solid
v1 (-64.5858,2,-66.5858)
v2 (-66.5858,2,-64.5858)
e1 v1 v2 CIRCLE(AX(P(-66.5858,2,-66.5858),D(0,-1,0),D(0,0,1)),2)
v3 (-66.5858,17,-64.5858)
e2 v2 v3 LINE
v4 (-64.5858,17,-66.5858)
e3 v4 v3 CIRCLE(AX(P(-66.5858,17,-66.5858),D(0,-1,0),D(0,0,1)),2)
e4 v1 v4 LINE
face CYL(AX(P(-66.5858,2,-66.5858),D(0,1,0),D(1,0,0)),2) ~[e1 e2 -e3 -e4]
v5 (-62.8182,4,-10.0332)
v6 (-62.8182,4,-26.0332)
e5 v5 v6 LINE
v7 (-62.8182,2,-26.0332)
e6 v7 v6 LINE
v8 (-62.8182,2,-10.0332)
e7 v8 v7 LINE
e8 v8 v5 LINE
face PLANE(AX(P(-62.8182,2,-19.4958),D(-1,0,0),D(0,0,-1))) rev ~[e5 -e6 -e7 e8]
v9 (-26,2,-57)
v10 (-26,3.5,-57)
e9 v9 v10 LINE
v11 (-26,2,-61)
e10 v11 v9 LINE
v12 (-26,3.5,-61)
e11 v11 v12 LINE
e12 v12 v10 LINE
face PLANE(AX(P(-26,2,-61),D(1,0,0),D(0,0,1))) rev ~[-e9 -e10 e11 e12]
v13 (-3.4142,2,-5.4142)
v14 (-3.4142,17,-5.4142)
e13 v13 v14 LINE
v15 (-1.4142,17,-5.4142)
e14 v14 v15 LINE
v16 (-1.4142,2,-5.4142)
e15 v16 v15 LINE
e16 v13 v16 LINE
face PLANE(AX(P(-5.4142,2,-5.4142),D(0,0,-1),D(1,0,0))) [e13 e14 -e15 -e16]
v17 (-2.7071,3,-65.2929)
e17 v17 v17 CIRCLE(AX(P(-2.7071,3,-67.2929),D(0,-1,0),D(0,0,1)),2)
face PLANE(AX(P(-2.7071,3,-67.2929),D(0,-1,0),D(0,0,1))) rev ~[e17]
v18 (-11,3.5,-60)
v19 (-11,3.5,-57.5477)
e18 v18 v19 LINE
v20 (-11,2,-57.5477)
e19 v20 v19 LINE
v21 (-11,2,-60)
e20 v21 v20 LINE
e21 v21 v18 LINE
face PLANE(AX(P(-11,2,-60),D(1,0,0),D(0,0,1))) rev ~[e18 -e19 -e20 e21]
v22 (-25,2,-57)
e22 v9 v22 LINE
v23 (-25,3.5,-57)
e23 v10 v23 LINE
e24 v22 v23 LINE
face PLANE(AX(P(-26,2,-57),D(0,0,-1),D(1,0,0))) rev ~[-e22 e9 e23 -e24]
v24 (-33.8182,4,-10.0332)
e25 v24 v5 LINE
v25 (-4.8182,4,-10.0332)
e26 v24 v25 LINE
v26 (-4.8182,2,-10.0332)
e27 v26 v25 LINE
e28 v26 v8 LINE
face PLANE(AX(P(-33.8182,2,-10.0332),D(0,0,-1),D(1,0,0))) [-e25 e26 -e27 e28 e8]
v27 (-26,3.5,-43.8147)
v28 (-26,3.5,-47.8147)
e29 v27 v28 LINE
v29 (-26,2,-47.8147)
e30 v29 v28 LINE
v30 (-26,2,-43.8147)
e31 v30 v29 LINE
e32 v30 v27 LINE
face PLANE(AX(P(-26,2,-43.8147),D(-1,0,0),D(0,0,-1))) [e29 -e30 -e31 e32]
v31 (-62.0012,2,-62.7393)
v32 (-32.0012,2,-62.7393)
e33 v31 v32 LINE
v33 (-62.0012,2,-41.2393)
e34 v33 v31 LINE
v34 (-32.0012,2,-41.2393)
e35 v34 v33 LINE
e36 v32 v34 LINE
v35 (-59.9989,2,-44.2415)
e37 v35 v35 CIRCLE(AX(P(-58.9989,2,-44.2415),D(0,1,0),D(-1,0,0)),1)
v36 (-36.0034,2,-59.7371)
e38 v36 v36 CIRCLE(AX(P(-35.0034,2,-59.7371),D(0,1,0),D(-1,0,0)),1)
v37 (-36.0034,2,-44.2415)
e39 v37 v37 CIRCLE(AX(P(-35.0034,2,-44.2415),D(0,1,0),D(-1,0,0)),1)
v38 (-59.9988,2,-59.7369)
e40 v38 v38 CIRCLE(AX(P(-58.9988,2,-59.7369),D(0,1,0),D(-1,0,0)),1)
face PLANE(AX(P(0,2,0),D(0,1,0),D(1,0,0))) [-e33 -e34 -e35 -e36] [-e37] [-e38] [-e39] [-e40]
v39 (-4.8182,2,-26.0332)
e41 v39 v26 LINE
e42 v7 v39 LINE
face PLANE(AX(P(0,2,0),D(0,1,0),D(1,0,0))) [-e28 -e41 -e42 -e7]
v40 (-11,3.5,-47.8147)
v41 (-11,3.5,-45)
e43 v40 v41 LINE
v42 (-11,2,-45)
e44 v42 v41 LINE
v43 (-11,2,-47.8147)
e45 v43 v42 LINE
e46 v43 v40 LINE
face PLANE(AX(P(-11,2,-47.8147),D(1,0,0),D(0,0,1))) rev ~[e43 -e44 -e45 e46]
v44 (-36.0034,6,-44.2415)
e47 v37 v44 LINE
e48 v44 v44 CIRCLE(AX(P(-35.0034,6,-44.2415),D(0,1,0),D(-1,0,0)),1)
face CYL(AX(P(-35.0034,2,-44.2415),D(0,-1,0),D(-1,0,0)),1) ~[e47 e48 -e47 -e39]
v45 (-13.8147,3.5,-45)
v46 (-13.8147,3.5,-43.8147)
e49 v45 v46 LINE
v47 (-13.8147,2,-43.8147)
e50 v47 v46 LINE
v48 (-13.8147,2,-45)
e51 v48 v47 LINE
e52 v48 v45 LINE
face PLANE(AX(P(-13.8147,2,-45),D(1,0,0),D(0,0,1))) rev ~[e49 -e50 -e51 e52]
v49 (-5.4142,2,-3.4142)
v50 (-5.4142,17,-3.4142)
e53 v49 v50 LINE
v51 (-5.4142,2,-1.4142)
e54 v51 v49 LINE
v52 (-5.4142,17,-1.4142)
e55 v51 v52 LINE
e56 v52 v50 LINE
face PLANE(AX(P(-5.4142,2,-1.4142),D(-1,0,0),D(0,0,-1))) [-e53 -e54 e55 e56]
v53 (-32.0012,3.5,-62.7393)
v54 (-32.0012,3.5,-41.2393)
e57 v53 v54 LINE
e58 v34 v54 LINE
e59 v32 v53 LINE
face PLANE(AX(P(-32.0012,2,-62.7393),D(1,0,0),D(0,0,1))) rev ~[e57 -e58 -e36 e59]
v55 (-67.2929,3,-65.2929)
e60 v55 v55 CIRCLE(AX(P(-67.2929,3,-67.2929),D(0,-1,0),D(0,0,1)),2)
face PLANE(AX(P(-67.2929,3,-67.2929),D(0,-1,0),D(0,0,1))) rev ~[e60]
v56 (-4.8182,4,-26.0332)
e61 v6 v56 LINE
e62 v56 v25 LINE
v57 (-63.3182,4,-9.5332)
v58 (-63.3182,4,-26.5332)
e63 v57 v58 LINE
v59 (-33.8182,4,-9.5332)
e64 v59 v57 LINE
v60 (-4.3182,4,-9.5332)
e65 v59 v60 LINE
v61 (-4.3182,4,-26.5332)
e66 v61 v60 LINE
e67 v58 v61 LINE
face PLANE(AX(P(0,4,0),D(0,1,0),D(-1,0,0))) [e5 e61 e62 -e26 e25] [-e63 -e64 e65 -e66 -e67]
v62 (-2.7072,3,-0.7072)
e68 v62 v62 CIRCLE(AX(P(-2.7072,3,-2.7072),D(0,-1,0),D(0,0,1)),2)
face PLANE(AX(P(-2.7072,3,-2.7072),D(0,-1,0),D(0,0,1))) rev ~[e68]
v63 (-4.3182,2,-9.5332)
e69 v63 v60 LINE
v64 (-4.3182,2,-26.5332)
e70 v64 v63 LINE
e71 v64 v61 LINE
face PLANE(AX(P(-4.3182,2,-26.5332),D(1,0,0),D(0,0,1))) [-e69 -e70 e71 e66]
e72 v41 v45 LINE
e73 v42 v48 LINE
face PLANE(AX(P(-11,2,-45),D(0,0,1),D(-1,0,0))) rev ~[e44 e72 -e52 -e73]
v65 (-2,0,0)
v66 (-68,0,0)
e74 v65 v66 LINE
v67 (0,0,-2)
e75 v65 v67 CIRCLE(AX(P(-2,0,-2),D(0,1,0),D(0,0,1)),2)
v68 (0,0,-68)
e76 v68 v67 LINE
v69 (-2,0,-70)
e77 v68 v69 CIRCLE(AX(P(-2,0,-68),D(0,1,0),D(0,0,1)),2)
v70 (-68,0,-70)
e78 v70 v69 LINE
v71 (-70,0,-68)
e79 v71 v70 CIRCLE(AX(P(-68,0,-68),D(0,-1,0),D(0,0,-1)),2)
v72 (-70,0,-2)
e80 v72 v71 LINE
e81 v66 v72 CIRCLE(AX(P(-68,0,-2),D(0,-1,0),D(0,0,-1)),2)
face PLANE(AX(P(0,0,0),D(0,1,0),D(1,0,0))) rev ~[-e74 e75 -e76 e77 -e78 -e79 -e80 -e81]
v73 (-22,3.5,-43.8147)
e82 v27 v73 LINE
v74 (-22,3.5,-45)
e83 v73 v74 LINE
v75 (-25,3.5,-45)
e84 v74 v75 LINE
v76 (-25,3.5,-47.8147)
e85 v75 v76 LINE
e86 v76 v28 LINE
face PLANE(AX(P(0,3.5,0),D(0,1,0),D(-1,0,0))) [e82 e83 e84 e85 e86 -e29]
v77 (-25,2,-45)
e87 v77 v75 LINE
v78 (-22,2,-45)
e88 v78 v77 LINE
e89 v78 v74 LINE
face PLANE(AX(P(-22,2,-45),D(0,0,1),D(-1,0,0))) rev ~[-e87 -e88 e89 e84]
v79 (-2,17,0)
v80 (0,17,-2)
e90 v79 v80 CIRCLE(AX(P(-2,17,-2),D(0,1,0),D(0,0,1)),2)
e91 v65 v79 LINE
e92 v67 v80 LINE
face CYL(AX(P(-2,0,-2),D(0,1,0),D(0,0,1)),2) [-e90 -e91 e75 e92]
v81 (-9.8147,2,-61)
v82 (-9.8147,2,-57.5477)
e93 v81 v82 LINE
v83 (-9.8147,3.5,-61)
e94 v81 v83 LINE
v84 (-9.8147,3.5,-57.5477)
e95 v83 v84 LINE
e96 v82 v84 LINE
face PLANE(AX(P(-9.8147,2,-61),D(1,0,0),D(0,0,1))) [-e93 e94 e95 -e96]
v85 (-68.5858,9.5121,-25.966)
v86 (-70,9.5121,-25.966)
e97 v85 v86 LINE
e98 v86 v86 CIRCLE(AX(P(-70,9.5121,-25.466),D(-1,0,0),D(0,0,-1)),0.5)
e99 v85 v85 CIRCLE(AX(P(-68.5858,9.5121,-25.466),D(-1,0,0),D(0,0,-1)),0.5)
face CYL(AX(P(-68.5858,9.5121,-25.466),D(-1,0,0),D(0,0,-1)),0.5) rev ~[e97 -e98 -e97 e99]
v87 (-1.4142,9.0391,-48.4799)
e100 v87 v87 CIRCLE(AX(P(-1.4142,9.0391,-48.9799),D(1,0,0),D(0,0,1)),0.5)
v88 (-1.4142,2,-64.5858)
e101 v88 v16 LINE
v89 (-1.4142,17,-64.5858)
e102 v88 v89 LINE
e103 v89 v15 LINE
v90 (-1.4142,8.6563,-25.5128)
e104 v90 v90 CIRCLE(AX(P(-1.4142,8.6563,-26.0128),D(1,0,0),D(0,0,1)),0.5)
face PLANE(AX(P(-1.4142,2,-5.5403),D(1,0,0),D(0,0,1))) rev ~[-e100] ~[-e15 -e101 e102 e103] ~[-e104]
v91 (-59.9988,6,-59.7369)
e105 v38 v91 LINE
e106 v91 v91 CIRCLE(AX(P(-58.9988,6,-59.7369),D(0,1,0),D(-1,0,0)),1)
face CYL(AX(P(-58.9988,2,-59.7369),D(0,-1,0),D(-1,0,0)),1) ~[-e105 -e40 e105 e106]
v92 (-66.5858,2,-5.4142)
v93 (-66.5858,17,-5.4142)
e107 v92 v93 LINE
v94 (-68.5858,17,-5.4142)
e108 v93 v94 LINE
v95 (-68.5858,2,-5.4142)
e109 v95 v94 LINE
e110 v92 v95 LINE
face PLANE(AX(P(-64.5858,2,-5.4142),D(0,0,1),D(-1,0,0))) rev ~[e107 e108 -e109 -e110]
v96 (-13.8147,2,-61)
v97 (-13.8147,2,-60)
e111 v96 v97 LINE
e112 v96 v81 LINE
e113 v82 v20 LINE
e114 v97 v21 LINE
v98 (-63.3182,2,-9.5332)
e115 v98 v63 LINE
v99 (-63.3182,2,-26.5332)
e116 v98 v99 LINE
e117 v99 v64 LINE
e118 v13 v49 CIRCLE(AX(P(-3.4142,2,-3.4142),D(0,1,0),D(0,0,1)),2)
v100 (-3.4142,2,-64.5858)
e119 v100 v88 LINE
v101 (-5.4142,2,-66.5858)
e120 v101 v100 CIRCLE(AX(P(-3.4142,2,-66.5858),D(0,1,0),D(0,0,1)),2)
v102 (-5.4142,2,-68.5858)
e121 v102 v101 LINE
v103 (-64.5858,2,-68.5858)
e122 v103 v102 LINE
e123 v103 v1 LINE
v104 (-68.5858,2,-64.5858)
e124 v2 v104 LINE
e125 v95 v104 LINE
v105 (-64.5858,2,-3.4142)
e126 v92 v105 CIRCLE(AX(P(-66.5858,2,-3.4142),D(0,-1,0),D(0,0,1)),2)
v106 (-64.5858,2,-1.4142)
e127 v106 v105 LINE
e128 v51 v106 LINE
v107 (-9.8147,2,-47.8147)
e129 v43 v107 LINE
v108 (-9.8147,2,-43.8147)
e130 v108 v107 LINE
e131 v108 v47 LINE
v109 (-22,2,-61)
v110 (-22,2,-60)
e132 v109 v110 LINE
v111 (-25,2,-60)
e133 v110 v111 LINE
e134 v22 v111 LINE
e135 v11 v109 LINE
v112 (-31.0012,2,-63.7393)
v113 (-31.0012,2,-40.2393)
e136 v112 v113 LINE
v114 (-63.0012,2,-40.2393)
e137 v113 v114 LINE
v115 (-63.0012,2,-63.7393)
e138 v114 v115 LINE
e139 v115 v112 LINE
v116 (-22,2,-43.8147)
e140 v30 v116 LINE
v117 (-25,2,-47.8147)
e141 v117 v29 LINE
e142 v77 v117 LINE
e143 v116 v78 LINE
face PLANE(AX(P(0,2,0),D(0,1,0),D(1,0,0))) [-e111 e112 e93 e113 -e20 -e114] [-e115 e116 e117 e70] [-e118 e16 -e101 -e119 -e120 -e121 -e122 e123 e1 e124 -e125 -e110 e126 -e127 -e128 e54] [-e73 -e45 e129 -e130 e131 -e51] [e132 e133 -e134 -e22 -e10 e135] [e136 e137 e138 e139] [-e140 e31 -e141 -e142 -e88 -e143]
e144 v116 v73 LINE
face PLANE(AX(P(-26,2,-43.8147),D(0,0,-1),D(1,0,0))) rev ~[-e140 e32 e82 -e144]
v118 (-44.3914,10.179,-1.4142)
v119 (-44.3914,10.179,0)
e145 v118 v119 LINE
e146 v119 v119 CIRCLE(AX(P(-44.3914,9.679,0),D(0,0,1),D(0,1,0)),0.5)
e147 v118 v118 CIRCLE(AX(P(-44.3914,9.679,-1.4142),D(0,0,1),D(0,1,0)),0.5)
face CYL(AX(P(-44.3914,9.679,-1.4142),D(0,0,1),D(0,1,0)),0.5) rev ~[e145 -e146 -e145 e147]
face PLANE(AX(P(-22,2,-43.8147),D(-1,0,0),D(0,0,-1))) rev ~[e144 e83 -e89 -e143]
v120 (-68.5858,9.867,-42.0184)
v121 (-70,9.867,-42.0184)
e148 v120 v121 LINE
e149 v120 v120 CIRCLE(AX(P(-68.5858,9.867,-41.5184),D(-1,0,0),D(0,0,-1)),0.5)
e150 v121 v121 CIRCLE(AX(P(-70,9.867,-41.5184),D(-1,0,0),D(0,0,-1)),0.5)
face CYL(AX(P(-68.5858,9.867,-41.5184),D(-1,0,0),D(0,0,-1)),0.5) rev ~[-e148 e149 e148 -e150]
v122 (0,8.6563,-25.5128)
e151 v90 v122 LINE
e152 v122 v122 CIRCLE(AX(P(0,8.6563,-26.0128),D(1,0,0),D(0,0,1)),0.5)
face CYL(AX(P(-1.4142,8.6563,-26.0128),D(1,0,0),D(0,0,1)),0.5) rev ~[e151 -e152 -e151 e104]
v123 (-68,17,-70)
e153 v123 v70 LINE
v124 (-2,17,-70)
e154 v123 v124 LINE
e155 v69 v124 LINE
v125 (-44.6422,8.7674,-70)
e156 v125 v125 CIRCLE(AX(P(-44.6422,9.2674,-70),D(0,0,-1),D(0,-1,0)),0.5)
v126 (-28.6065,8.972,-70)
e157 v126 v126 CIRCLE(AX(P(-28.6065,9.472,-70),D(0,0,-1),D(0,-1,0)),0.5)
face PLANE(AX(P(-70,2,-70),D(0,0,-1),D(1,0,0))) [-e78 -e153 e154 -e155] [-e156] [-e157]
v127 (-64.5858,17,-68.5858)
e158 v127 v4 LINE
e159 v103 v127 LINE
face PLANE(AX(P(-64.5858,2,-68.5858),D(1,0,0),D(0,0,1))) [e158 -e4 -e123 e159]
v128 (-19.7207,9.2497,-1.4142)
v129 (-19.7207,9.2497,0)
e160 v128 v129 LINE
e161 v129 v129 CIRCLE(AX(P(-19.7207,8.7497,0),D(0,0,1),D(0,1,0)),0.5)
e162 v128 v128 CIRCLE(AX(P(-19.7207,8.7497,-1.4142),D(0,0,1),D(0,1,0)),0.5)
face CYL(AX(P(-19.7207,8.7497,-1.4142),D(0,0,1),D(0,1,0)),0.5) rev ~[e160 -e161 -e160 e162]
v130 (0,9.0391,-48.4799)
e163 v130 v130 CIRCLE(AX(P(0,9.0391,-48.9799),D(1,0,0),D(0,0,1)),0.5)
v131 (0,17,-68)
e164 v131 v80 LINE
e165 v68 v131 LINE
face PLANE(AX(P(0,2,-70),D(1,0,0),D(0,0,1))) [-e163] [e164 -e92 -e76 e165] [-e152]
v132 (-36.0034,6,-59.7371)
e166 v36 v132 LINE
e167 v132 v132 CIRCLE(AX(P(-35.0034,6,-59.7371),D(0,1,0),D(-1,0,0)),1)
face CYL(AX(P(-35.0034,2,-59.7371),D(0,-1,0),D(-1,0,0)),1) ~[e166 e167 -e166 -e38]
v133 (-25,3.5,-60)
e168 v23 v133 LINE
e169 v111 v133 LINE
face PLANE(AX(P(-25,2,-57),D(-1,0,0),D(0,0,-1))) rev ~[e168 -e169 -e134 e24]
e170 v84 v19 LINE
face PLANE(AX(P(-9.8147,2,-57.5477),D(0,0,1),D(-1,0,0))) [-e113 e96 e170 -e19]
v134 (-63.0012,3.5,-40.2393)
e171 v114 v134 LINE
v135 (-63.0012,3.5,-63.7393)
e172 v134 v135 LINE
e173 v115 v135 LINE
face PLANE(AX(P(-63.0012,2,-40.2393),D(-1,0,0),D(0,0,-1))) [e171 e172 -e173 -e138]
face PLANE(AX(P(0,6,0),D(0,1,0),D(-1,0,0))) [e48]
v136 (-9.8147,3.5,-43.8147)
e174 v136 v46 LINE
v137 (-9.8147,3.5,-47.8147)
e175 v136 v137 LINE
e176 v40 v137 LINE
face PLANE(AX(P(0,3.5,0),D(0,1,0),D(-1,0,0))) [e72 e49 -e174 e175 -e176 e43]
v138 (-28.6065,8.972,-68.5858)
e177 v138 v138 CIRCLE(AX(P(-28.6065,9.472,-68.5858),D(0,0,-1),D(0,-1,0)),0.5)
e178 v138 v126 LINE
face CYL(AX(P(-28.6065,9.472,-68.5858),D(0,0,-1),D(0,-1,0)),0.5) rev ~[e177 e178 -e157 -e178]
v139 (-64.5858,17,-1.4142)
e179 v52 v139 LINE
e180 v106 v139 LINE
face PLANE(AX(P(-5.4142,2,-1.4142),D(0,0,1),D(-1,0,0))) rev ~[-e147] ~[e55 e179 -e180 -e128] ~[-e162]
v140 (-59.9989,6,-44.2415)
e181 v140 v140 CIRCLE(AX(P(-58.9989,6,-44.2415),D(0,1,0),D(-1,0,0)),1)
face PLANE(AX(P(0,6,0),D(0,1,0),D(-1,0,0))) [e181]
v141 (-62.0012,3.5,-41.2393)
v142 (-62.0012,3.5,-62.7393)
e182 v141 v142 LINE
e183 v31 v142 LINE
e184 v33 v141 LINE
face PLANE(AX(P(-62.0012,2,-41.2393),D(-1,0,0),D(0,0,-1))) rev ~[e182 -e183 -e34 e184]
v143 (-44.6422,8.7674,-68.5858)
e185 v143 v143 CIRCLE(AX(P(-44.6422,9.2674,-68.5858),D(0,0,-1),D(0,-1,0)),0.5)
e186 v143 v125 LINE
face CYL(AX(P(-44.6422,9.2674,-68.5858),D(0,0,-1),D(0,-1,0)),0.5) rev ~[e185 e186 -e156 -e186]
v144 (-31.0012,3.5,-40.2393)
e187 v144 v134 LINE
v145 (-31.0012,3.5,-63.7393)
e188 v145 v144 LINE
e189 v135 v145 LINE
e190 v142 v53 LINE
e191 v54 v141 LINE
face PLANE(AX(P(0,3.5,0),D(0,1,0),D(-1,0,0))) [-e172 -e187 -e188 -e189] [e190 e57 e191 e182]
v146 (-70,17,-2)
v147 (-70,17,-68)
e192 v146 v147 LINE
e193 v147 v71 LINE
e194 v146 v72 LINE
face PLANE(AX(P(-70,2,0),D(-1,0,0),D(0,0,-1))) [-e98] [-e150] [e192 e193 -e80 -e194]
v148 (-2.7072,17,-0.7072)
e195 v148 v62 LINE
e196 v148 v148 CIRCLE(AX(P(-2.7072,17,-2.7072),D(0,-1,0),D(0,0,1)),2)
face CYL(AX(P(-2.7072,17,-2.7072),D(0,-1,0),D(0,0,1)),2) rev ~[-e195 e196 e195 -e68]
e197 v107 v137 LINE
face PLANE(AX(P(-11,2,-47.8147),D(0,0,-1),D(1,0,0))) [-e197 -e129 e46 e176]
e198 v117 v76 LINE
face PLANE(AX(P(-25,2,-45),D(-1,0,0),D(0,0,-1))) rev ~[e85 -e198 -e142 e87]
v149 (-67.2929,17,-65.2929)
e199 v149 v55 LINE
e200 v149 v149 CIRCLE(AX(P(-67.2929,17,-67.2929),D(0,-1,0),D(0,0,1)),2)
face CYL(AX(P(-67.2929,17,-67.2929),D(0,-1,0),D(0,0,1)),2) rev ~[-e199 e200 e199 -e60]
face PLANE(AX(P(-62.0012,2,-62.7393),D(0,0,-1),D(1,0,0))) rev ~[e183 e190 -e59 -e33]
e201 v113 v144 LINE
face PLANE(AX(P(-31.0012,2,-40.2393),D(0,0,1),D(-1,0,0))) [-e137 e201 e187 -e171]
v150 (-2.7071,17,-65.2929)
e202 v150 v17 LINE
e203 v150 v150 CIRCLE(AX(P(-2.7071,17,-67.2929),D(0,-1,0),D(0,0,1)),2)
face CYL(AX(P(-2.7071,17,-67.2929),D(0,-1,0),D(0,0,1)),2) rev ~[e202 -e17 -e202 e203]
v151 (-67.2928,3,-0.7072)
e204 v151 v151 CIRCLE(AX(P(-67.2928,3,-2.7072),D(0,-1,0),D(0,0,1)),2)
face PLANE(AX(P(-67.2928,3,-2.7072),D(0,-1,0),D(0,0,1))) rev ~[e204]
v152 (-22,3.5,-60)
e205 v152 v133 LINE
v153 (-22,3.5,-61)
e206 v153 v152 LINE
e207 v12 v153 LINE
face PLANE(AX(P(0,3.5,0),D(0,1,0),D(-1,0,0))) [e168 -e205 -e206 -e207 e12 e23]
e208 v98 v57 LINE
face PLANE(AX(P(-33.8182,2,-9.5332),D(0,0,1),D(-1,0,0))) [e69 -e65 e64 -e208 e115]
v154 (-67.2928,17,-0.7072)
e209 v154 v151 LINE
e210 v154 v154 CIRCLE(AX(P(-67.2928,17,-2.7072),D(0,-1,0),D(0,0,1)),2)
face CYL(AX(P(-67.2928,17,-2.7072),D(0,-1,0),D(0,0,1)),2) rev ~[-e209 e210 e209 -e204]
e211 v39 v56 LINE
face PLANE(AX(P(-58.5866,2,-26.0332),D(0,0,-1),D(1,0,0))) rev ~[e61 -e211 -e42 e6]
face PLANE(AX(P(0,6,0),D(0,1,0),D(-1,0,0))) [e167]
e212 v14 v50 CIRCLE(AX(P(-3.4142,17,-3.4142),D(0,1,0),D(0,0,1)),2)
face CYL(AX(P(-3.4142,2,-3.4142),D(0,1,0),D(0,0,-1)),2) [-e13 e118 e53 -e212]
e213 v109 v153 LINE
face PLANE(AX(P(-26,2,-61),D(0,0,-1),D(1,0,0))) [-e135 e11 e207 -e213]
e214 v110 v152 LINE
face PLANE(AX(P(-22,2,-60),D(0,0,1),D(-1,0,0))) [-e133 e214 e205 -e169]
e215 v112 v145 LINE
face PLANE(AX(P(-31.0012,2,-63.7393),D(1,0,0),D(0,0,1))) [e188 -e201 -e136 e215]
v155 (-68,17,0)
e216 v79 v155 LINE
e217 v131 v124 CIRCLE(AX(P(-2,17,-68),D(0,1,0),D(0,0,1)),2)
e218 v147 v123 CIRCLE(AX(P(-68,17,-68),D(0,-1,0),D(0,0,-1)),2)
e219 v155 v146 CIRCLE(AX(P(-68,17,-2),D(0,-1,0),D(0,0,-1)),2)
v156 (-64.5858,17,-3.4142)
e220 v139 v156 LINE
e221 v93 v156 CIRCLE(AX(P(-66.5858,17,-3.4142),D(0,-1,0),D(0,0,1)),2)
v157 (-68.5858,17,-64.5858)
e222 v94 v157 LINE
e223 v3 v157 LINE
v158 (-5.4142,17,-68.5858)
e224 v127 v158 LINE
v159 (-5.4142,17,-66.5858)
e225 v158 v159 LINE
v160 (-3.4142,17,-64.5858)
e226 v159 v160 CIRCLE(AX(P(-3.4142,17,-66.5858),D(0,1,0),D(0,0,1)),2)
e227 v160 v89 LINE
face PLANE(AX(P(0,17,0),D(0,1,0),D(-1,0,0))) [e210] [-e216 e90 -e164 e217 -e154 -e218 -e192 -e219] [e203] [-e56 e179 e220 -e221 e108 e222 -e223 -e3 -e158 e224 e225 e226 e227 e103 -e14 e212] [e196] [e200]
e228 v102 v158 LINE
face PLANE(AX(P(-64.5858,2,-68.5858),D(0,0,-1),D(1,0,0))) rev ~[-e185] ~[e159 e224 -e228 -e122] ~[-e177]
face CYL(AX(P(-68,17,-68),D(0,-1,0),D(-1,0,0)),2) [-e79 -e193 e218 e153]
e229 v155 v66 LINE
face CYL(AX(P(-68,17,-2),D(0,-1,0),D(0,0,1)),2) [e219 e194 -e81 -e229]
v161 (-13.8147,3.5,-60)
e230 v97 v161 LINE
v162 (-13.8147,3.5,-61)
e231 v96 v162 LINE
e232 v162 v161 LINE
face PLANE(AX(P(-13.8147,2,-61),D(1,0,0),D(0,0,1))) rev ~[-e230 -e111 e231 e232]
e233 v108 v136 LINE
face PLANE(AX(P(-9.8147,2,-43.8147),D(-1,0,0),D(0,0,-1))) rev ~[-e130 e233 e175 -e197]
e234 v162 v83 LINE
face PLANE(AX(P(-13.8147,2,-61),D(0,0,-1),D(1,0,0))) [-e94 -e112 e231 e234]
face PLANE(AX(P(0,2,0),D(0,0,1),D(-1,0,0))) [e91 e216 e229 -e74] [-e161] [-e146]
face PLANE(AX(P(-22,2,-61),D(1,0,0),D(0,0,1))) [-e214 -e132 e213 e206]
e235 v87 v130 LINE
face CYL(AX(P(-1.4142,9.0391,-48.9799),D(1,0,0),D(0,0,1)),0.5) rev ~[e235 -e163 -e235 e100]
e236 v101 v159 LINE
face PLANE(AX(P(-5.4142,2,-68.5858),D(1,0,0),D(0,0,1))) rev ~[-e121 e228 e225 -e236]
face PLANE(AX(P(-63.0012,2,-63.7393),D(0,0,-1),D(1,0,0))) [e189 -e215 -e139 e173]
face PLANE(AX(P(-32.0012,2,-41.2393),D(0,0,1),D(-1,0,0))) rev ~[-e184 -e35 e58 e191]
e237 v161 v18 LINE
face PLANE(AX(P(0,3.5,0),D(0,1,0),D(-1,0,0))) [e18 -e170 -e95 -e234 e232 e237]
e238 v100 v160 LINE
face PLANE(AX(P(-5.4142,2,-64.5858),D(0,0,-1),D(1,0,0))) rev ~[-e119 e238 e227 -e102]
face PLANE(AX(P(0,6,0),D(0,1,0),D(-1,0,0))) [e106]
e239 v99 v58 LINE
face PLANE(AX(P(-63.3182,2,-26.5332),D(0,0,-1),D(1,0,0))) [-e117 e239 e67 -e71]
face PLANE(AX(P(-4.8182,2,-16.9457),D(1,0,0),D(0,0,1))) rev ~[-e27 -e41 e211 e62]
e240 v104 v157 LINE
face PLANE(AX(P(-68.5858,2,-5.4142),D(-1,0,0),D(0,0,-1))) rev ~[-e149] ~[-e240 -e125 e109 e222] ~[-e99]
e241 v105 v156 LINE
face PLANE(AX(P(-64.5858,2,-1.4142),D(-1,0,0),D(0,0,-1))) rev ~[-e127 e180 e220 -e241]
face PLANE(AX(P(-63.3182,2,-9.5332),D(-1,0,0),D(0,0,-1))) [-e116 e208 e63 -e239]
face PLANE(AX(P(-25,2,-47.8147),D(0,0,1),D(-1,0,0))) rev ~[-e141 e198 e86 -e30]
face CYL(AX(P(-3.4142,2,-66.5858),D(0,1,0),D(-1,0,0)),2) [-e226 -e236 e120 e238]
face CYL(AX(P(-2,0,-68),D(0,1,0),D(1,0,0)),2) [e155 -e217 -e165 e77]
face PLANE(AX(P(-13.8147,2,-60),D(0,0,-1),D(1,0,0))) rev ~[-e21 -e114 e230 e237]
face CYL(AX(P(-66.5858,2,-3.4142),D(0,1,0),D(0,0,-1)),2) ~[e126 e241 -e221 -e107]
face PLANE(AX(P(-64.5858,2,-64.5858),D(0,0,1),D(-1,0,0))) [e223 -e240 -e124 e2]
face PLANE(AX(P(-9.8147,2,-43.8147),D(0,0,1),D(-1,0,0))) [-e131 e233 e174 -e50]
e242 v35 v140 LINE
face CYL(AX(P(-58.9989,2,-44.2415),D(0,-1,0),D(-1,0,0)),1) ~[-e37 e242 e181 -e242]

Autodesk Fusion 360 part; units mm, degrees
sketch "Sketch1" plane through (0, 0, 0) normal (0, 1, 0) x (1, 0, 0)
  line L0 (0, 0) -> (-70, 0)
  line L1 (-70, 0) -> (-70, 70)
  line L2 (-70, 70) -> (0, 70)
  line L3 (0, 70) -> (0, 0)
  dimension "d1" = 70
  dimension "d2" = 70
extrude "Extrude1" add sketch "Sketch1" along normal blind 2
sketch "Sketch2" plane through (0, 2, 0) normal (0, 1, 0) x (-1, 0, 0)
  line L0 (0, -70) -> (70, -70)
  line L1 (70, -70) -> (70, 0)
  line L2 (70, 0) -> (0, 0)
  line L3 (0, 0) -> (0, -70)
  line L4 (62.0012, -62.7393) -> (32.0012, -62.7393)
  line L5 (32.0012, -62.7393) -> (32.0012, -41.2393)
  line L6 (32.0012, -41.2393) -> (62.0012, -41.2393)
  line L7 (62.0012, -41.2393) -> (62.0012, -62.7393)
  line L8 (13.8147, -60) -> (11, -60)
  line L9 (25, -45) -> (25, -47.8147)
  line L10 (62.0012, -62.7393) -> (63.4154, -62.7393) construction
  line L11 (32.0012, -41.2393) -> (33.4154, -41.2393) construction
  line L12 (63.0012, -63.7393) -> (31.0012, -63.7393)
  line L13 (31.0012, -63.7393) -> (31.0012, -40.2393)
  line L14 (31.0012, -40.2393) -> (63.0012, -40.2393)
  line L15 (63.0012, -40.2393) -> (63.0012, -63.7393)
  line L16 (13.8147, -61) -> (9.8147, -61)
  line L17 (26, -43.8147) -> (26, -47.8147)
  line L18 (62.0012, -62.7393) -> (66.2472, -62.7393) construction
  circle A0 centre (58.9988, -59.7369) radius 1
  line L19 (26, -61) -> (22, -61)
  line L20 (9.8147, -61) -> (13.8147, -61)
  line L21 (13.8147, -61) -> (13.8147, -60)
  line L22 (9.8147, -61) -> (9.8147, -57.5477)
  line L23 (9.8147, -57.5477) -> (11, -57.5477)
  line L24 (9.8147, -43.8147) -> (9.8147, -47.8147)
  line L25 (11, -47.8147) -> (9.8147, -47.8147)
  line L26 (9.8147, -43.8147) -> (13.8147, -43.8147)
  line L27 (13.8147, -45) -> (13.8147, -43.8147)
  line L28 (26, -43.8147) -> (22, -43.8147)
  line L29 (22, -43.8147) -> (22, -45)
  line L30 (26, -43.8147) -> (26, -47.8147)
  line L31 (25, -47.8147) -> (26.1763, -47.8147)
  line L32 (11, -45) -> (13.8147, -45)
  line L33 (22, -45) -> (25, -45)
  line L34 (9.8147, -43.8147) -> (13.8147, -43.8147)
  line L35 (22, -43.8147) -> (26, -43.8147)
  line L36 (26, -61) -> (26, -57)
  line L37 (26, -57) -> (25, -57)
  line L38 (25, -57) -> (25, -60)
  line L39 (22, -61) -> (22, -60)
  line L40 (22, -60) -> (25, -60)
  line L41 (9.8147, -61) -> (9.8147, -57.5477)
  line L42 (9.8147, -47.8147) -> (9.8147, -43.8147)
  line L43 (11, -60) -> (11, -57.5477)
  line L44 (11, -47.8147) -> (11, -45)
  line L45 (33.8182, -10.0332) -> (4.8182, -10.0332)
  line L46 (58.5866, -26.0332) -> (4.8182, -26.0332)
  line L47 (33.8182, -9.5332) -> (4.3182, -9.5332)
  line L48 (4.8182, -10.0332) -> (62.8182, -10.0332)
  line L49 (63.3182, -26.5332) -> (4.3182, -26.5332)
  line L50 (4.8182, -16.9457) -> (4.8182, -10.0332)
  line L51 (4.3182, -26.5332) -> (4.3182, -9.5332)
  line L52 (58.5866, -26.0332) -> (62.8182, -26.0332)
  line L53 (63.3182, -9.5332) -> (63.3182, -26.5332)
  line L54 (4.8182, -16.9457) -> (4.8182, -26.0332)
  line L55 (33.8182, -9.5332) -> (63.3182, -9.5332)
  line L56 (62.8182, -19.4958) -> (62.8182, -10.0332)
  line L57 (33.8182, -10.0332) -> (62.8182, -10.0332)
  line L58 (62.8182, -19.4958) -> (62.8182, -26.0332)
  line L59 (33.8182, -10.0332) -> (33.8182, -9.5332)
  line L60 (31.0012, -40.2393) -> (36.6612, -40.2393) construction
  circle A1 centre (35.0034, -44.2415) radius 1
  line L61 (63.0012, -40.2393) -> (68.6612, -40.2393) construction
  line L62 (31.0012, -63.7393) -> (36.6612, -63.7393) construction
  circle A2 centre (35.0034, -59.7371) radius 1
  circle A3 centre (58.9989, -44.2415) radius 1
  point P0 (33.8182, -10.0332)
  dimension "d5" = 30
  dimension "d6" = 21.5
  dimension "d7" = 14
  dimension "d8" = 15
  dimension "d9" = 1.4142
  dimension "d12" = 1.4142
  dimension "d14" = 4.246
  dimension "d15" = 2
  dimension "d34" = 4
  dimension "d35" = 4
  dimension "d36" = 4
  dimension "d37" = 4
  dimension "d38" = 4
  dimension "d39" = 4
  dimension "d72" = 0.5
  dimension "d76" = 5.66
  dimension "d77" = 2
  dimension "d79" = 5.66
  dimension "d80" = 5.66
  dimension "d82" = 2
  dimension "d83" = 2
extrude "Extrude2" add sketch "Sketch2" along normal blind 4 contours A0
extrude "Extrude7" add sketch "Sketch2" along normal blind 4 contours A1 | A2 | A3
extrude "Extrude3" add sketch "Sketch2" along normal blind 1.5 contours L12 L13 L14 L15
extrude "Extrude4" add sketch "Sketch2" along normal blind 1.5 contours L8 L16 L20 L21 L22 L23 L41 L43 | L9 L17 L28 L29 L30 L31 L33 L35 | L19 L36 L37 L38 L39 L40 | L24 L25 L26 L27 L32 L34 L42 L44
sketch "Sketch3" plane through (0, 2, 0) normal (0, 1, 0) x (-1, 0, 0)
  line L0 (70, -70) -> (74, -70) construction
  line L1 (0, 0) -> (4, 0) construction
  line L2 (64.5858, -68.5858) -> (5.4142, -68.5858)
  line L3 (1.4142, -64.5858) -> (1.4142, -5.4142)
  line L4 (5.4142, -1.4142) -> (64.5858, -1.4142)
  line L5 (68.5858, -5.4142) -> (68.5858, -64.5858)
  line L6 (5.4142, -1.4142) -> (5.4142, -5.4142)
  line L7 (1.4142, -5.5403) -> (1.4142, -5.4142)
  line L8 (5.4142, -1.4142) -> (5.4142, -5.4142)
  line L9 (5.4142, -5.4142) -> (1.4142, -5.4142)
  line L10 (64.5858, -1.4142) -> (64.5858, -5.4142)
  line L11 (64.5858, -5.4142) -> (68.5858, -5.4142)
  line L12 (64.5858, -68.5858) -> (64.5858, -64.5858)
  line L13 (64.5858, -64.5858) -> (68.5858, -64.5858)
  line L14 (5.4142, -68.5858) -> (5.4142, -64.5858)
  line L15 (5.4142, -64.5858) -> (1.4142, -64.5858)
  line L16 (0, 0) -> (70, 0)
  line L17 (70, 0) -> (70, -70)
  line L18 (70, -70) -> (0, -70)
  line L19 (0, -70) -> (0, 0)
extrude "Extrude5" add sketch "Sketch3" along normal blind 15
hole "Hole1" at (-1.4142, 9.0391, -48.9799) direction (1, 0, 0) diameter 1 depth 14 tip angle 180
hole "Hole2" at (-1.4142, 8.6563, -26.0128) direction (1, 0, 0) diameter 1 depth 14 tip angle 180
hole "Hole3" at (-19.7207, 8.7497, -1.4142) direction (0, 0, 1) diameter 1 depth 14 tip angle 180
hole "Hole4" at (-44.3914, 9.679, -1.4142) direction (0, 0, 1) diameter 1 depth 14 tip angle 180
hole "Hole5" at (-68.5858, 9.867, -41.5184) direction (-1, 0, 0) diameter 1 depth 14 tip angle 180
hole "Hole6" at (-68.5858, 9.5121, -25.466) direction (-1, 0, 0) diameter 1 depth 14 tip angle 180
hole "Hole7" at (-44.6422, 9.2674, -68.5858) direction (0, 0, -1) diameter 1 depth 14 tip angle 180
hole "Hole8" at (-28.6065, 9.472, -68.5858) direction (0, 0, -1) diameter 1 depth 14 tip angle 180
sketch "Sketch4" plane through (0, 17, 0) normal (0, 1, 0) x (-1, 0, 0)
  line L0 (64.5858, -64.5858) -> (64.5858, -68.5858)
  line L1 (64.5858, -68.5858) -> (5.4142, -68.5858)
  line L2 (5.4142, -68.5858) -> (5.4142, -64.5858)
  line L3 (5.4142, -64.5858) -> (1.4142, -64.5858)
  line L4 (1.4142, -64.5858) -> (1.4142, -5.4142)
  line L5 (1.4142, -5.4142) -> (5.4142, -5.4142)
  line L6 (5.4142, -5.4142) -> (5.4142, -1.4142)
  line L7 (5.4142, -1.4142) -> (64.5858, -1.4142)
  line L8 (64.5858, -1.4142) -> (64.5858, -5.4142)
  line L9 (64.5858, -5.4142) -> (68.5858, -5.4142)
  line L10 (68.5858, -5.4142) -> (68.5858, -64.5858)
  line L11 (68.5858, -64.5858) -> (64.5858, -64.5858)
  line L12 (0, -70) -> (70, -70)
  line L13 (70, -70) -> (70, 0)
  line L14 (70, 0) -> (0, 0)
  line L15 (0, 0) -> (0, -70)
  line L16 (70, 0) -> (67.2928, -2.7072)
  line L17 (0, 0) -> (2.7072, -2.7072)
  line L18 (0, -70) -> (2.7071, -67.2929)
  line L19 (70, -70) -> (67.2929, -67.2929)
  dimension "d67" = 3.8285
  dimension "d68" = 3.8285
hole "Hole9" at (-2.7072, 17, -2.7072) at (-67.2928, 17, -2.7072) at (-67.2929, 17, -67.2929) at (-2.7071, 17, -67.2929) direction (0, -1, 0) diameter 4 depth 14 tip angle 180
sketch "Sketch5" plane through (0, 2, 0) normal (0, 1, 0) x (-1, 0, 0)
extrude "Extrude6" add sketch "Sketch2" along normal blind 2 contours L47 L49 L51 L53 L55
fillet "Fillet1" radius 2 1 edges at (-64.5858, 9.5, -64.5858)
fillet "Fillet2" radius 2 3 edges at (-5.4142, 9.5, -5.4142) (-5.4142, 9.5, -64.5858) (-64.5858, 9.5, -5.4142)
fillet "Fillet3" radius 2 3 edges at (-70, 8.5, -70) (0, 8.5, -70) (-70, 8.5, 0)
fillet "Fillet4" radius 2 1 edges at (0, 8.5, 0)
equation "d9 = ( sqrt(2) ) * 1 mm"
equation "d12 = ( sqrt(2) ) * 1 mm"
equation "d67 = 7.657 mm / 2"
equation "d68 = 7.657 mm / 2"
